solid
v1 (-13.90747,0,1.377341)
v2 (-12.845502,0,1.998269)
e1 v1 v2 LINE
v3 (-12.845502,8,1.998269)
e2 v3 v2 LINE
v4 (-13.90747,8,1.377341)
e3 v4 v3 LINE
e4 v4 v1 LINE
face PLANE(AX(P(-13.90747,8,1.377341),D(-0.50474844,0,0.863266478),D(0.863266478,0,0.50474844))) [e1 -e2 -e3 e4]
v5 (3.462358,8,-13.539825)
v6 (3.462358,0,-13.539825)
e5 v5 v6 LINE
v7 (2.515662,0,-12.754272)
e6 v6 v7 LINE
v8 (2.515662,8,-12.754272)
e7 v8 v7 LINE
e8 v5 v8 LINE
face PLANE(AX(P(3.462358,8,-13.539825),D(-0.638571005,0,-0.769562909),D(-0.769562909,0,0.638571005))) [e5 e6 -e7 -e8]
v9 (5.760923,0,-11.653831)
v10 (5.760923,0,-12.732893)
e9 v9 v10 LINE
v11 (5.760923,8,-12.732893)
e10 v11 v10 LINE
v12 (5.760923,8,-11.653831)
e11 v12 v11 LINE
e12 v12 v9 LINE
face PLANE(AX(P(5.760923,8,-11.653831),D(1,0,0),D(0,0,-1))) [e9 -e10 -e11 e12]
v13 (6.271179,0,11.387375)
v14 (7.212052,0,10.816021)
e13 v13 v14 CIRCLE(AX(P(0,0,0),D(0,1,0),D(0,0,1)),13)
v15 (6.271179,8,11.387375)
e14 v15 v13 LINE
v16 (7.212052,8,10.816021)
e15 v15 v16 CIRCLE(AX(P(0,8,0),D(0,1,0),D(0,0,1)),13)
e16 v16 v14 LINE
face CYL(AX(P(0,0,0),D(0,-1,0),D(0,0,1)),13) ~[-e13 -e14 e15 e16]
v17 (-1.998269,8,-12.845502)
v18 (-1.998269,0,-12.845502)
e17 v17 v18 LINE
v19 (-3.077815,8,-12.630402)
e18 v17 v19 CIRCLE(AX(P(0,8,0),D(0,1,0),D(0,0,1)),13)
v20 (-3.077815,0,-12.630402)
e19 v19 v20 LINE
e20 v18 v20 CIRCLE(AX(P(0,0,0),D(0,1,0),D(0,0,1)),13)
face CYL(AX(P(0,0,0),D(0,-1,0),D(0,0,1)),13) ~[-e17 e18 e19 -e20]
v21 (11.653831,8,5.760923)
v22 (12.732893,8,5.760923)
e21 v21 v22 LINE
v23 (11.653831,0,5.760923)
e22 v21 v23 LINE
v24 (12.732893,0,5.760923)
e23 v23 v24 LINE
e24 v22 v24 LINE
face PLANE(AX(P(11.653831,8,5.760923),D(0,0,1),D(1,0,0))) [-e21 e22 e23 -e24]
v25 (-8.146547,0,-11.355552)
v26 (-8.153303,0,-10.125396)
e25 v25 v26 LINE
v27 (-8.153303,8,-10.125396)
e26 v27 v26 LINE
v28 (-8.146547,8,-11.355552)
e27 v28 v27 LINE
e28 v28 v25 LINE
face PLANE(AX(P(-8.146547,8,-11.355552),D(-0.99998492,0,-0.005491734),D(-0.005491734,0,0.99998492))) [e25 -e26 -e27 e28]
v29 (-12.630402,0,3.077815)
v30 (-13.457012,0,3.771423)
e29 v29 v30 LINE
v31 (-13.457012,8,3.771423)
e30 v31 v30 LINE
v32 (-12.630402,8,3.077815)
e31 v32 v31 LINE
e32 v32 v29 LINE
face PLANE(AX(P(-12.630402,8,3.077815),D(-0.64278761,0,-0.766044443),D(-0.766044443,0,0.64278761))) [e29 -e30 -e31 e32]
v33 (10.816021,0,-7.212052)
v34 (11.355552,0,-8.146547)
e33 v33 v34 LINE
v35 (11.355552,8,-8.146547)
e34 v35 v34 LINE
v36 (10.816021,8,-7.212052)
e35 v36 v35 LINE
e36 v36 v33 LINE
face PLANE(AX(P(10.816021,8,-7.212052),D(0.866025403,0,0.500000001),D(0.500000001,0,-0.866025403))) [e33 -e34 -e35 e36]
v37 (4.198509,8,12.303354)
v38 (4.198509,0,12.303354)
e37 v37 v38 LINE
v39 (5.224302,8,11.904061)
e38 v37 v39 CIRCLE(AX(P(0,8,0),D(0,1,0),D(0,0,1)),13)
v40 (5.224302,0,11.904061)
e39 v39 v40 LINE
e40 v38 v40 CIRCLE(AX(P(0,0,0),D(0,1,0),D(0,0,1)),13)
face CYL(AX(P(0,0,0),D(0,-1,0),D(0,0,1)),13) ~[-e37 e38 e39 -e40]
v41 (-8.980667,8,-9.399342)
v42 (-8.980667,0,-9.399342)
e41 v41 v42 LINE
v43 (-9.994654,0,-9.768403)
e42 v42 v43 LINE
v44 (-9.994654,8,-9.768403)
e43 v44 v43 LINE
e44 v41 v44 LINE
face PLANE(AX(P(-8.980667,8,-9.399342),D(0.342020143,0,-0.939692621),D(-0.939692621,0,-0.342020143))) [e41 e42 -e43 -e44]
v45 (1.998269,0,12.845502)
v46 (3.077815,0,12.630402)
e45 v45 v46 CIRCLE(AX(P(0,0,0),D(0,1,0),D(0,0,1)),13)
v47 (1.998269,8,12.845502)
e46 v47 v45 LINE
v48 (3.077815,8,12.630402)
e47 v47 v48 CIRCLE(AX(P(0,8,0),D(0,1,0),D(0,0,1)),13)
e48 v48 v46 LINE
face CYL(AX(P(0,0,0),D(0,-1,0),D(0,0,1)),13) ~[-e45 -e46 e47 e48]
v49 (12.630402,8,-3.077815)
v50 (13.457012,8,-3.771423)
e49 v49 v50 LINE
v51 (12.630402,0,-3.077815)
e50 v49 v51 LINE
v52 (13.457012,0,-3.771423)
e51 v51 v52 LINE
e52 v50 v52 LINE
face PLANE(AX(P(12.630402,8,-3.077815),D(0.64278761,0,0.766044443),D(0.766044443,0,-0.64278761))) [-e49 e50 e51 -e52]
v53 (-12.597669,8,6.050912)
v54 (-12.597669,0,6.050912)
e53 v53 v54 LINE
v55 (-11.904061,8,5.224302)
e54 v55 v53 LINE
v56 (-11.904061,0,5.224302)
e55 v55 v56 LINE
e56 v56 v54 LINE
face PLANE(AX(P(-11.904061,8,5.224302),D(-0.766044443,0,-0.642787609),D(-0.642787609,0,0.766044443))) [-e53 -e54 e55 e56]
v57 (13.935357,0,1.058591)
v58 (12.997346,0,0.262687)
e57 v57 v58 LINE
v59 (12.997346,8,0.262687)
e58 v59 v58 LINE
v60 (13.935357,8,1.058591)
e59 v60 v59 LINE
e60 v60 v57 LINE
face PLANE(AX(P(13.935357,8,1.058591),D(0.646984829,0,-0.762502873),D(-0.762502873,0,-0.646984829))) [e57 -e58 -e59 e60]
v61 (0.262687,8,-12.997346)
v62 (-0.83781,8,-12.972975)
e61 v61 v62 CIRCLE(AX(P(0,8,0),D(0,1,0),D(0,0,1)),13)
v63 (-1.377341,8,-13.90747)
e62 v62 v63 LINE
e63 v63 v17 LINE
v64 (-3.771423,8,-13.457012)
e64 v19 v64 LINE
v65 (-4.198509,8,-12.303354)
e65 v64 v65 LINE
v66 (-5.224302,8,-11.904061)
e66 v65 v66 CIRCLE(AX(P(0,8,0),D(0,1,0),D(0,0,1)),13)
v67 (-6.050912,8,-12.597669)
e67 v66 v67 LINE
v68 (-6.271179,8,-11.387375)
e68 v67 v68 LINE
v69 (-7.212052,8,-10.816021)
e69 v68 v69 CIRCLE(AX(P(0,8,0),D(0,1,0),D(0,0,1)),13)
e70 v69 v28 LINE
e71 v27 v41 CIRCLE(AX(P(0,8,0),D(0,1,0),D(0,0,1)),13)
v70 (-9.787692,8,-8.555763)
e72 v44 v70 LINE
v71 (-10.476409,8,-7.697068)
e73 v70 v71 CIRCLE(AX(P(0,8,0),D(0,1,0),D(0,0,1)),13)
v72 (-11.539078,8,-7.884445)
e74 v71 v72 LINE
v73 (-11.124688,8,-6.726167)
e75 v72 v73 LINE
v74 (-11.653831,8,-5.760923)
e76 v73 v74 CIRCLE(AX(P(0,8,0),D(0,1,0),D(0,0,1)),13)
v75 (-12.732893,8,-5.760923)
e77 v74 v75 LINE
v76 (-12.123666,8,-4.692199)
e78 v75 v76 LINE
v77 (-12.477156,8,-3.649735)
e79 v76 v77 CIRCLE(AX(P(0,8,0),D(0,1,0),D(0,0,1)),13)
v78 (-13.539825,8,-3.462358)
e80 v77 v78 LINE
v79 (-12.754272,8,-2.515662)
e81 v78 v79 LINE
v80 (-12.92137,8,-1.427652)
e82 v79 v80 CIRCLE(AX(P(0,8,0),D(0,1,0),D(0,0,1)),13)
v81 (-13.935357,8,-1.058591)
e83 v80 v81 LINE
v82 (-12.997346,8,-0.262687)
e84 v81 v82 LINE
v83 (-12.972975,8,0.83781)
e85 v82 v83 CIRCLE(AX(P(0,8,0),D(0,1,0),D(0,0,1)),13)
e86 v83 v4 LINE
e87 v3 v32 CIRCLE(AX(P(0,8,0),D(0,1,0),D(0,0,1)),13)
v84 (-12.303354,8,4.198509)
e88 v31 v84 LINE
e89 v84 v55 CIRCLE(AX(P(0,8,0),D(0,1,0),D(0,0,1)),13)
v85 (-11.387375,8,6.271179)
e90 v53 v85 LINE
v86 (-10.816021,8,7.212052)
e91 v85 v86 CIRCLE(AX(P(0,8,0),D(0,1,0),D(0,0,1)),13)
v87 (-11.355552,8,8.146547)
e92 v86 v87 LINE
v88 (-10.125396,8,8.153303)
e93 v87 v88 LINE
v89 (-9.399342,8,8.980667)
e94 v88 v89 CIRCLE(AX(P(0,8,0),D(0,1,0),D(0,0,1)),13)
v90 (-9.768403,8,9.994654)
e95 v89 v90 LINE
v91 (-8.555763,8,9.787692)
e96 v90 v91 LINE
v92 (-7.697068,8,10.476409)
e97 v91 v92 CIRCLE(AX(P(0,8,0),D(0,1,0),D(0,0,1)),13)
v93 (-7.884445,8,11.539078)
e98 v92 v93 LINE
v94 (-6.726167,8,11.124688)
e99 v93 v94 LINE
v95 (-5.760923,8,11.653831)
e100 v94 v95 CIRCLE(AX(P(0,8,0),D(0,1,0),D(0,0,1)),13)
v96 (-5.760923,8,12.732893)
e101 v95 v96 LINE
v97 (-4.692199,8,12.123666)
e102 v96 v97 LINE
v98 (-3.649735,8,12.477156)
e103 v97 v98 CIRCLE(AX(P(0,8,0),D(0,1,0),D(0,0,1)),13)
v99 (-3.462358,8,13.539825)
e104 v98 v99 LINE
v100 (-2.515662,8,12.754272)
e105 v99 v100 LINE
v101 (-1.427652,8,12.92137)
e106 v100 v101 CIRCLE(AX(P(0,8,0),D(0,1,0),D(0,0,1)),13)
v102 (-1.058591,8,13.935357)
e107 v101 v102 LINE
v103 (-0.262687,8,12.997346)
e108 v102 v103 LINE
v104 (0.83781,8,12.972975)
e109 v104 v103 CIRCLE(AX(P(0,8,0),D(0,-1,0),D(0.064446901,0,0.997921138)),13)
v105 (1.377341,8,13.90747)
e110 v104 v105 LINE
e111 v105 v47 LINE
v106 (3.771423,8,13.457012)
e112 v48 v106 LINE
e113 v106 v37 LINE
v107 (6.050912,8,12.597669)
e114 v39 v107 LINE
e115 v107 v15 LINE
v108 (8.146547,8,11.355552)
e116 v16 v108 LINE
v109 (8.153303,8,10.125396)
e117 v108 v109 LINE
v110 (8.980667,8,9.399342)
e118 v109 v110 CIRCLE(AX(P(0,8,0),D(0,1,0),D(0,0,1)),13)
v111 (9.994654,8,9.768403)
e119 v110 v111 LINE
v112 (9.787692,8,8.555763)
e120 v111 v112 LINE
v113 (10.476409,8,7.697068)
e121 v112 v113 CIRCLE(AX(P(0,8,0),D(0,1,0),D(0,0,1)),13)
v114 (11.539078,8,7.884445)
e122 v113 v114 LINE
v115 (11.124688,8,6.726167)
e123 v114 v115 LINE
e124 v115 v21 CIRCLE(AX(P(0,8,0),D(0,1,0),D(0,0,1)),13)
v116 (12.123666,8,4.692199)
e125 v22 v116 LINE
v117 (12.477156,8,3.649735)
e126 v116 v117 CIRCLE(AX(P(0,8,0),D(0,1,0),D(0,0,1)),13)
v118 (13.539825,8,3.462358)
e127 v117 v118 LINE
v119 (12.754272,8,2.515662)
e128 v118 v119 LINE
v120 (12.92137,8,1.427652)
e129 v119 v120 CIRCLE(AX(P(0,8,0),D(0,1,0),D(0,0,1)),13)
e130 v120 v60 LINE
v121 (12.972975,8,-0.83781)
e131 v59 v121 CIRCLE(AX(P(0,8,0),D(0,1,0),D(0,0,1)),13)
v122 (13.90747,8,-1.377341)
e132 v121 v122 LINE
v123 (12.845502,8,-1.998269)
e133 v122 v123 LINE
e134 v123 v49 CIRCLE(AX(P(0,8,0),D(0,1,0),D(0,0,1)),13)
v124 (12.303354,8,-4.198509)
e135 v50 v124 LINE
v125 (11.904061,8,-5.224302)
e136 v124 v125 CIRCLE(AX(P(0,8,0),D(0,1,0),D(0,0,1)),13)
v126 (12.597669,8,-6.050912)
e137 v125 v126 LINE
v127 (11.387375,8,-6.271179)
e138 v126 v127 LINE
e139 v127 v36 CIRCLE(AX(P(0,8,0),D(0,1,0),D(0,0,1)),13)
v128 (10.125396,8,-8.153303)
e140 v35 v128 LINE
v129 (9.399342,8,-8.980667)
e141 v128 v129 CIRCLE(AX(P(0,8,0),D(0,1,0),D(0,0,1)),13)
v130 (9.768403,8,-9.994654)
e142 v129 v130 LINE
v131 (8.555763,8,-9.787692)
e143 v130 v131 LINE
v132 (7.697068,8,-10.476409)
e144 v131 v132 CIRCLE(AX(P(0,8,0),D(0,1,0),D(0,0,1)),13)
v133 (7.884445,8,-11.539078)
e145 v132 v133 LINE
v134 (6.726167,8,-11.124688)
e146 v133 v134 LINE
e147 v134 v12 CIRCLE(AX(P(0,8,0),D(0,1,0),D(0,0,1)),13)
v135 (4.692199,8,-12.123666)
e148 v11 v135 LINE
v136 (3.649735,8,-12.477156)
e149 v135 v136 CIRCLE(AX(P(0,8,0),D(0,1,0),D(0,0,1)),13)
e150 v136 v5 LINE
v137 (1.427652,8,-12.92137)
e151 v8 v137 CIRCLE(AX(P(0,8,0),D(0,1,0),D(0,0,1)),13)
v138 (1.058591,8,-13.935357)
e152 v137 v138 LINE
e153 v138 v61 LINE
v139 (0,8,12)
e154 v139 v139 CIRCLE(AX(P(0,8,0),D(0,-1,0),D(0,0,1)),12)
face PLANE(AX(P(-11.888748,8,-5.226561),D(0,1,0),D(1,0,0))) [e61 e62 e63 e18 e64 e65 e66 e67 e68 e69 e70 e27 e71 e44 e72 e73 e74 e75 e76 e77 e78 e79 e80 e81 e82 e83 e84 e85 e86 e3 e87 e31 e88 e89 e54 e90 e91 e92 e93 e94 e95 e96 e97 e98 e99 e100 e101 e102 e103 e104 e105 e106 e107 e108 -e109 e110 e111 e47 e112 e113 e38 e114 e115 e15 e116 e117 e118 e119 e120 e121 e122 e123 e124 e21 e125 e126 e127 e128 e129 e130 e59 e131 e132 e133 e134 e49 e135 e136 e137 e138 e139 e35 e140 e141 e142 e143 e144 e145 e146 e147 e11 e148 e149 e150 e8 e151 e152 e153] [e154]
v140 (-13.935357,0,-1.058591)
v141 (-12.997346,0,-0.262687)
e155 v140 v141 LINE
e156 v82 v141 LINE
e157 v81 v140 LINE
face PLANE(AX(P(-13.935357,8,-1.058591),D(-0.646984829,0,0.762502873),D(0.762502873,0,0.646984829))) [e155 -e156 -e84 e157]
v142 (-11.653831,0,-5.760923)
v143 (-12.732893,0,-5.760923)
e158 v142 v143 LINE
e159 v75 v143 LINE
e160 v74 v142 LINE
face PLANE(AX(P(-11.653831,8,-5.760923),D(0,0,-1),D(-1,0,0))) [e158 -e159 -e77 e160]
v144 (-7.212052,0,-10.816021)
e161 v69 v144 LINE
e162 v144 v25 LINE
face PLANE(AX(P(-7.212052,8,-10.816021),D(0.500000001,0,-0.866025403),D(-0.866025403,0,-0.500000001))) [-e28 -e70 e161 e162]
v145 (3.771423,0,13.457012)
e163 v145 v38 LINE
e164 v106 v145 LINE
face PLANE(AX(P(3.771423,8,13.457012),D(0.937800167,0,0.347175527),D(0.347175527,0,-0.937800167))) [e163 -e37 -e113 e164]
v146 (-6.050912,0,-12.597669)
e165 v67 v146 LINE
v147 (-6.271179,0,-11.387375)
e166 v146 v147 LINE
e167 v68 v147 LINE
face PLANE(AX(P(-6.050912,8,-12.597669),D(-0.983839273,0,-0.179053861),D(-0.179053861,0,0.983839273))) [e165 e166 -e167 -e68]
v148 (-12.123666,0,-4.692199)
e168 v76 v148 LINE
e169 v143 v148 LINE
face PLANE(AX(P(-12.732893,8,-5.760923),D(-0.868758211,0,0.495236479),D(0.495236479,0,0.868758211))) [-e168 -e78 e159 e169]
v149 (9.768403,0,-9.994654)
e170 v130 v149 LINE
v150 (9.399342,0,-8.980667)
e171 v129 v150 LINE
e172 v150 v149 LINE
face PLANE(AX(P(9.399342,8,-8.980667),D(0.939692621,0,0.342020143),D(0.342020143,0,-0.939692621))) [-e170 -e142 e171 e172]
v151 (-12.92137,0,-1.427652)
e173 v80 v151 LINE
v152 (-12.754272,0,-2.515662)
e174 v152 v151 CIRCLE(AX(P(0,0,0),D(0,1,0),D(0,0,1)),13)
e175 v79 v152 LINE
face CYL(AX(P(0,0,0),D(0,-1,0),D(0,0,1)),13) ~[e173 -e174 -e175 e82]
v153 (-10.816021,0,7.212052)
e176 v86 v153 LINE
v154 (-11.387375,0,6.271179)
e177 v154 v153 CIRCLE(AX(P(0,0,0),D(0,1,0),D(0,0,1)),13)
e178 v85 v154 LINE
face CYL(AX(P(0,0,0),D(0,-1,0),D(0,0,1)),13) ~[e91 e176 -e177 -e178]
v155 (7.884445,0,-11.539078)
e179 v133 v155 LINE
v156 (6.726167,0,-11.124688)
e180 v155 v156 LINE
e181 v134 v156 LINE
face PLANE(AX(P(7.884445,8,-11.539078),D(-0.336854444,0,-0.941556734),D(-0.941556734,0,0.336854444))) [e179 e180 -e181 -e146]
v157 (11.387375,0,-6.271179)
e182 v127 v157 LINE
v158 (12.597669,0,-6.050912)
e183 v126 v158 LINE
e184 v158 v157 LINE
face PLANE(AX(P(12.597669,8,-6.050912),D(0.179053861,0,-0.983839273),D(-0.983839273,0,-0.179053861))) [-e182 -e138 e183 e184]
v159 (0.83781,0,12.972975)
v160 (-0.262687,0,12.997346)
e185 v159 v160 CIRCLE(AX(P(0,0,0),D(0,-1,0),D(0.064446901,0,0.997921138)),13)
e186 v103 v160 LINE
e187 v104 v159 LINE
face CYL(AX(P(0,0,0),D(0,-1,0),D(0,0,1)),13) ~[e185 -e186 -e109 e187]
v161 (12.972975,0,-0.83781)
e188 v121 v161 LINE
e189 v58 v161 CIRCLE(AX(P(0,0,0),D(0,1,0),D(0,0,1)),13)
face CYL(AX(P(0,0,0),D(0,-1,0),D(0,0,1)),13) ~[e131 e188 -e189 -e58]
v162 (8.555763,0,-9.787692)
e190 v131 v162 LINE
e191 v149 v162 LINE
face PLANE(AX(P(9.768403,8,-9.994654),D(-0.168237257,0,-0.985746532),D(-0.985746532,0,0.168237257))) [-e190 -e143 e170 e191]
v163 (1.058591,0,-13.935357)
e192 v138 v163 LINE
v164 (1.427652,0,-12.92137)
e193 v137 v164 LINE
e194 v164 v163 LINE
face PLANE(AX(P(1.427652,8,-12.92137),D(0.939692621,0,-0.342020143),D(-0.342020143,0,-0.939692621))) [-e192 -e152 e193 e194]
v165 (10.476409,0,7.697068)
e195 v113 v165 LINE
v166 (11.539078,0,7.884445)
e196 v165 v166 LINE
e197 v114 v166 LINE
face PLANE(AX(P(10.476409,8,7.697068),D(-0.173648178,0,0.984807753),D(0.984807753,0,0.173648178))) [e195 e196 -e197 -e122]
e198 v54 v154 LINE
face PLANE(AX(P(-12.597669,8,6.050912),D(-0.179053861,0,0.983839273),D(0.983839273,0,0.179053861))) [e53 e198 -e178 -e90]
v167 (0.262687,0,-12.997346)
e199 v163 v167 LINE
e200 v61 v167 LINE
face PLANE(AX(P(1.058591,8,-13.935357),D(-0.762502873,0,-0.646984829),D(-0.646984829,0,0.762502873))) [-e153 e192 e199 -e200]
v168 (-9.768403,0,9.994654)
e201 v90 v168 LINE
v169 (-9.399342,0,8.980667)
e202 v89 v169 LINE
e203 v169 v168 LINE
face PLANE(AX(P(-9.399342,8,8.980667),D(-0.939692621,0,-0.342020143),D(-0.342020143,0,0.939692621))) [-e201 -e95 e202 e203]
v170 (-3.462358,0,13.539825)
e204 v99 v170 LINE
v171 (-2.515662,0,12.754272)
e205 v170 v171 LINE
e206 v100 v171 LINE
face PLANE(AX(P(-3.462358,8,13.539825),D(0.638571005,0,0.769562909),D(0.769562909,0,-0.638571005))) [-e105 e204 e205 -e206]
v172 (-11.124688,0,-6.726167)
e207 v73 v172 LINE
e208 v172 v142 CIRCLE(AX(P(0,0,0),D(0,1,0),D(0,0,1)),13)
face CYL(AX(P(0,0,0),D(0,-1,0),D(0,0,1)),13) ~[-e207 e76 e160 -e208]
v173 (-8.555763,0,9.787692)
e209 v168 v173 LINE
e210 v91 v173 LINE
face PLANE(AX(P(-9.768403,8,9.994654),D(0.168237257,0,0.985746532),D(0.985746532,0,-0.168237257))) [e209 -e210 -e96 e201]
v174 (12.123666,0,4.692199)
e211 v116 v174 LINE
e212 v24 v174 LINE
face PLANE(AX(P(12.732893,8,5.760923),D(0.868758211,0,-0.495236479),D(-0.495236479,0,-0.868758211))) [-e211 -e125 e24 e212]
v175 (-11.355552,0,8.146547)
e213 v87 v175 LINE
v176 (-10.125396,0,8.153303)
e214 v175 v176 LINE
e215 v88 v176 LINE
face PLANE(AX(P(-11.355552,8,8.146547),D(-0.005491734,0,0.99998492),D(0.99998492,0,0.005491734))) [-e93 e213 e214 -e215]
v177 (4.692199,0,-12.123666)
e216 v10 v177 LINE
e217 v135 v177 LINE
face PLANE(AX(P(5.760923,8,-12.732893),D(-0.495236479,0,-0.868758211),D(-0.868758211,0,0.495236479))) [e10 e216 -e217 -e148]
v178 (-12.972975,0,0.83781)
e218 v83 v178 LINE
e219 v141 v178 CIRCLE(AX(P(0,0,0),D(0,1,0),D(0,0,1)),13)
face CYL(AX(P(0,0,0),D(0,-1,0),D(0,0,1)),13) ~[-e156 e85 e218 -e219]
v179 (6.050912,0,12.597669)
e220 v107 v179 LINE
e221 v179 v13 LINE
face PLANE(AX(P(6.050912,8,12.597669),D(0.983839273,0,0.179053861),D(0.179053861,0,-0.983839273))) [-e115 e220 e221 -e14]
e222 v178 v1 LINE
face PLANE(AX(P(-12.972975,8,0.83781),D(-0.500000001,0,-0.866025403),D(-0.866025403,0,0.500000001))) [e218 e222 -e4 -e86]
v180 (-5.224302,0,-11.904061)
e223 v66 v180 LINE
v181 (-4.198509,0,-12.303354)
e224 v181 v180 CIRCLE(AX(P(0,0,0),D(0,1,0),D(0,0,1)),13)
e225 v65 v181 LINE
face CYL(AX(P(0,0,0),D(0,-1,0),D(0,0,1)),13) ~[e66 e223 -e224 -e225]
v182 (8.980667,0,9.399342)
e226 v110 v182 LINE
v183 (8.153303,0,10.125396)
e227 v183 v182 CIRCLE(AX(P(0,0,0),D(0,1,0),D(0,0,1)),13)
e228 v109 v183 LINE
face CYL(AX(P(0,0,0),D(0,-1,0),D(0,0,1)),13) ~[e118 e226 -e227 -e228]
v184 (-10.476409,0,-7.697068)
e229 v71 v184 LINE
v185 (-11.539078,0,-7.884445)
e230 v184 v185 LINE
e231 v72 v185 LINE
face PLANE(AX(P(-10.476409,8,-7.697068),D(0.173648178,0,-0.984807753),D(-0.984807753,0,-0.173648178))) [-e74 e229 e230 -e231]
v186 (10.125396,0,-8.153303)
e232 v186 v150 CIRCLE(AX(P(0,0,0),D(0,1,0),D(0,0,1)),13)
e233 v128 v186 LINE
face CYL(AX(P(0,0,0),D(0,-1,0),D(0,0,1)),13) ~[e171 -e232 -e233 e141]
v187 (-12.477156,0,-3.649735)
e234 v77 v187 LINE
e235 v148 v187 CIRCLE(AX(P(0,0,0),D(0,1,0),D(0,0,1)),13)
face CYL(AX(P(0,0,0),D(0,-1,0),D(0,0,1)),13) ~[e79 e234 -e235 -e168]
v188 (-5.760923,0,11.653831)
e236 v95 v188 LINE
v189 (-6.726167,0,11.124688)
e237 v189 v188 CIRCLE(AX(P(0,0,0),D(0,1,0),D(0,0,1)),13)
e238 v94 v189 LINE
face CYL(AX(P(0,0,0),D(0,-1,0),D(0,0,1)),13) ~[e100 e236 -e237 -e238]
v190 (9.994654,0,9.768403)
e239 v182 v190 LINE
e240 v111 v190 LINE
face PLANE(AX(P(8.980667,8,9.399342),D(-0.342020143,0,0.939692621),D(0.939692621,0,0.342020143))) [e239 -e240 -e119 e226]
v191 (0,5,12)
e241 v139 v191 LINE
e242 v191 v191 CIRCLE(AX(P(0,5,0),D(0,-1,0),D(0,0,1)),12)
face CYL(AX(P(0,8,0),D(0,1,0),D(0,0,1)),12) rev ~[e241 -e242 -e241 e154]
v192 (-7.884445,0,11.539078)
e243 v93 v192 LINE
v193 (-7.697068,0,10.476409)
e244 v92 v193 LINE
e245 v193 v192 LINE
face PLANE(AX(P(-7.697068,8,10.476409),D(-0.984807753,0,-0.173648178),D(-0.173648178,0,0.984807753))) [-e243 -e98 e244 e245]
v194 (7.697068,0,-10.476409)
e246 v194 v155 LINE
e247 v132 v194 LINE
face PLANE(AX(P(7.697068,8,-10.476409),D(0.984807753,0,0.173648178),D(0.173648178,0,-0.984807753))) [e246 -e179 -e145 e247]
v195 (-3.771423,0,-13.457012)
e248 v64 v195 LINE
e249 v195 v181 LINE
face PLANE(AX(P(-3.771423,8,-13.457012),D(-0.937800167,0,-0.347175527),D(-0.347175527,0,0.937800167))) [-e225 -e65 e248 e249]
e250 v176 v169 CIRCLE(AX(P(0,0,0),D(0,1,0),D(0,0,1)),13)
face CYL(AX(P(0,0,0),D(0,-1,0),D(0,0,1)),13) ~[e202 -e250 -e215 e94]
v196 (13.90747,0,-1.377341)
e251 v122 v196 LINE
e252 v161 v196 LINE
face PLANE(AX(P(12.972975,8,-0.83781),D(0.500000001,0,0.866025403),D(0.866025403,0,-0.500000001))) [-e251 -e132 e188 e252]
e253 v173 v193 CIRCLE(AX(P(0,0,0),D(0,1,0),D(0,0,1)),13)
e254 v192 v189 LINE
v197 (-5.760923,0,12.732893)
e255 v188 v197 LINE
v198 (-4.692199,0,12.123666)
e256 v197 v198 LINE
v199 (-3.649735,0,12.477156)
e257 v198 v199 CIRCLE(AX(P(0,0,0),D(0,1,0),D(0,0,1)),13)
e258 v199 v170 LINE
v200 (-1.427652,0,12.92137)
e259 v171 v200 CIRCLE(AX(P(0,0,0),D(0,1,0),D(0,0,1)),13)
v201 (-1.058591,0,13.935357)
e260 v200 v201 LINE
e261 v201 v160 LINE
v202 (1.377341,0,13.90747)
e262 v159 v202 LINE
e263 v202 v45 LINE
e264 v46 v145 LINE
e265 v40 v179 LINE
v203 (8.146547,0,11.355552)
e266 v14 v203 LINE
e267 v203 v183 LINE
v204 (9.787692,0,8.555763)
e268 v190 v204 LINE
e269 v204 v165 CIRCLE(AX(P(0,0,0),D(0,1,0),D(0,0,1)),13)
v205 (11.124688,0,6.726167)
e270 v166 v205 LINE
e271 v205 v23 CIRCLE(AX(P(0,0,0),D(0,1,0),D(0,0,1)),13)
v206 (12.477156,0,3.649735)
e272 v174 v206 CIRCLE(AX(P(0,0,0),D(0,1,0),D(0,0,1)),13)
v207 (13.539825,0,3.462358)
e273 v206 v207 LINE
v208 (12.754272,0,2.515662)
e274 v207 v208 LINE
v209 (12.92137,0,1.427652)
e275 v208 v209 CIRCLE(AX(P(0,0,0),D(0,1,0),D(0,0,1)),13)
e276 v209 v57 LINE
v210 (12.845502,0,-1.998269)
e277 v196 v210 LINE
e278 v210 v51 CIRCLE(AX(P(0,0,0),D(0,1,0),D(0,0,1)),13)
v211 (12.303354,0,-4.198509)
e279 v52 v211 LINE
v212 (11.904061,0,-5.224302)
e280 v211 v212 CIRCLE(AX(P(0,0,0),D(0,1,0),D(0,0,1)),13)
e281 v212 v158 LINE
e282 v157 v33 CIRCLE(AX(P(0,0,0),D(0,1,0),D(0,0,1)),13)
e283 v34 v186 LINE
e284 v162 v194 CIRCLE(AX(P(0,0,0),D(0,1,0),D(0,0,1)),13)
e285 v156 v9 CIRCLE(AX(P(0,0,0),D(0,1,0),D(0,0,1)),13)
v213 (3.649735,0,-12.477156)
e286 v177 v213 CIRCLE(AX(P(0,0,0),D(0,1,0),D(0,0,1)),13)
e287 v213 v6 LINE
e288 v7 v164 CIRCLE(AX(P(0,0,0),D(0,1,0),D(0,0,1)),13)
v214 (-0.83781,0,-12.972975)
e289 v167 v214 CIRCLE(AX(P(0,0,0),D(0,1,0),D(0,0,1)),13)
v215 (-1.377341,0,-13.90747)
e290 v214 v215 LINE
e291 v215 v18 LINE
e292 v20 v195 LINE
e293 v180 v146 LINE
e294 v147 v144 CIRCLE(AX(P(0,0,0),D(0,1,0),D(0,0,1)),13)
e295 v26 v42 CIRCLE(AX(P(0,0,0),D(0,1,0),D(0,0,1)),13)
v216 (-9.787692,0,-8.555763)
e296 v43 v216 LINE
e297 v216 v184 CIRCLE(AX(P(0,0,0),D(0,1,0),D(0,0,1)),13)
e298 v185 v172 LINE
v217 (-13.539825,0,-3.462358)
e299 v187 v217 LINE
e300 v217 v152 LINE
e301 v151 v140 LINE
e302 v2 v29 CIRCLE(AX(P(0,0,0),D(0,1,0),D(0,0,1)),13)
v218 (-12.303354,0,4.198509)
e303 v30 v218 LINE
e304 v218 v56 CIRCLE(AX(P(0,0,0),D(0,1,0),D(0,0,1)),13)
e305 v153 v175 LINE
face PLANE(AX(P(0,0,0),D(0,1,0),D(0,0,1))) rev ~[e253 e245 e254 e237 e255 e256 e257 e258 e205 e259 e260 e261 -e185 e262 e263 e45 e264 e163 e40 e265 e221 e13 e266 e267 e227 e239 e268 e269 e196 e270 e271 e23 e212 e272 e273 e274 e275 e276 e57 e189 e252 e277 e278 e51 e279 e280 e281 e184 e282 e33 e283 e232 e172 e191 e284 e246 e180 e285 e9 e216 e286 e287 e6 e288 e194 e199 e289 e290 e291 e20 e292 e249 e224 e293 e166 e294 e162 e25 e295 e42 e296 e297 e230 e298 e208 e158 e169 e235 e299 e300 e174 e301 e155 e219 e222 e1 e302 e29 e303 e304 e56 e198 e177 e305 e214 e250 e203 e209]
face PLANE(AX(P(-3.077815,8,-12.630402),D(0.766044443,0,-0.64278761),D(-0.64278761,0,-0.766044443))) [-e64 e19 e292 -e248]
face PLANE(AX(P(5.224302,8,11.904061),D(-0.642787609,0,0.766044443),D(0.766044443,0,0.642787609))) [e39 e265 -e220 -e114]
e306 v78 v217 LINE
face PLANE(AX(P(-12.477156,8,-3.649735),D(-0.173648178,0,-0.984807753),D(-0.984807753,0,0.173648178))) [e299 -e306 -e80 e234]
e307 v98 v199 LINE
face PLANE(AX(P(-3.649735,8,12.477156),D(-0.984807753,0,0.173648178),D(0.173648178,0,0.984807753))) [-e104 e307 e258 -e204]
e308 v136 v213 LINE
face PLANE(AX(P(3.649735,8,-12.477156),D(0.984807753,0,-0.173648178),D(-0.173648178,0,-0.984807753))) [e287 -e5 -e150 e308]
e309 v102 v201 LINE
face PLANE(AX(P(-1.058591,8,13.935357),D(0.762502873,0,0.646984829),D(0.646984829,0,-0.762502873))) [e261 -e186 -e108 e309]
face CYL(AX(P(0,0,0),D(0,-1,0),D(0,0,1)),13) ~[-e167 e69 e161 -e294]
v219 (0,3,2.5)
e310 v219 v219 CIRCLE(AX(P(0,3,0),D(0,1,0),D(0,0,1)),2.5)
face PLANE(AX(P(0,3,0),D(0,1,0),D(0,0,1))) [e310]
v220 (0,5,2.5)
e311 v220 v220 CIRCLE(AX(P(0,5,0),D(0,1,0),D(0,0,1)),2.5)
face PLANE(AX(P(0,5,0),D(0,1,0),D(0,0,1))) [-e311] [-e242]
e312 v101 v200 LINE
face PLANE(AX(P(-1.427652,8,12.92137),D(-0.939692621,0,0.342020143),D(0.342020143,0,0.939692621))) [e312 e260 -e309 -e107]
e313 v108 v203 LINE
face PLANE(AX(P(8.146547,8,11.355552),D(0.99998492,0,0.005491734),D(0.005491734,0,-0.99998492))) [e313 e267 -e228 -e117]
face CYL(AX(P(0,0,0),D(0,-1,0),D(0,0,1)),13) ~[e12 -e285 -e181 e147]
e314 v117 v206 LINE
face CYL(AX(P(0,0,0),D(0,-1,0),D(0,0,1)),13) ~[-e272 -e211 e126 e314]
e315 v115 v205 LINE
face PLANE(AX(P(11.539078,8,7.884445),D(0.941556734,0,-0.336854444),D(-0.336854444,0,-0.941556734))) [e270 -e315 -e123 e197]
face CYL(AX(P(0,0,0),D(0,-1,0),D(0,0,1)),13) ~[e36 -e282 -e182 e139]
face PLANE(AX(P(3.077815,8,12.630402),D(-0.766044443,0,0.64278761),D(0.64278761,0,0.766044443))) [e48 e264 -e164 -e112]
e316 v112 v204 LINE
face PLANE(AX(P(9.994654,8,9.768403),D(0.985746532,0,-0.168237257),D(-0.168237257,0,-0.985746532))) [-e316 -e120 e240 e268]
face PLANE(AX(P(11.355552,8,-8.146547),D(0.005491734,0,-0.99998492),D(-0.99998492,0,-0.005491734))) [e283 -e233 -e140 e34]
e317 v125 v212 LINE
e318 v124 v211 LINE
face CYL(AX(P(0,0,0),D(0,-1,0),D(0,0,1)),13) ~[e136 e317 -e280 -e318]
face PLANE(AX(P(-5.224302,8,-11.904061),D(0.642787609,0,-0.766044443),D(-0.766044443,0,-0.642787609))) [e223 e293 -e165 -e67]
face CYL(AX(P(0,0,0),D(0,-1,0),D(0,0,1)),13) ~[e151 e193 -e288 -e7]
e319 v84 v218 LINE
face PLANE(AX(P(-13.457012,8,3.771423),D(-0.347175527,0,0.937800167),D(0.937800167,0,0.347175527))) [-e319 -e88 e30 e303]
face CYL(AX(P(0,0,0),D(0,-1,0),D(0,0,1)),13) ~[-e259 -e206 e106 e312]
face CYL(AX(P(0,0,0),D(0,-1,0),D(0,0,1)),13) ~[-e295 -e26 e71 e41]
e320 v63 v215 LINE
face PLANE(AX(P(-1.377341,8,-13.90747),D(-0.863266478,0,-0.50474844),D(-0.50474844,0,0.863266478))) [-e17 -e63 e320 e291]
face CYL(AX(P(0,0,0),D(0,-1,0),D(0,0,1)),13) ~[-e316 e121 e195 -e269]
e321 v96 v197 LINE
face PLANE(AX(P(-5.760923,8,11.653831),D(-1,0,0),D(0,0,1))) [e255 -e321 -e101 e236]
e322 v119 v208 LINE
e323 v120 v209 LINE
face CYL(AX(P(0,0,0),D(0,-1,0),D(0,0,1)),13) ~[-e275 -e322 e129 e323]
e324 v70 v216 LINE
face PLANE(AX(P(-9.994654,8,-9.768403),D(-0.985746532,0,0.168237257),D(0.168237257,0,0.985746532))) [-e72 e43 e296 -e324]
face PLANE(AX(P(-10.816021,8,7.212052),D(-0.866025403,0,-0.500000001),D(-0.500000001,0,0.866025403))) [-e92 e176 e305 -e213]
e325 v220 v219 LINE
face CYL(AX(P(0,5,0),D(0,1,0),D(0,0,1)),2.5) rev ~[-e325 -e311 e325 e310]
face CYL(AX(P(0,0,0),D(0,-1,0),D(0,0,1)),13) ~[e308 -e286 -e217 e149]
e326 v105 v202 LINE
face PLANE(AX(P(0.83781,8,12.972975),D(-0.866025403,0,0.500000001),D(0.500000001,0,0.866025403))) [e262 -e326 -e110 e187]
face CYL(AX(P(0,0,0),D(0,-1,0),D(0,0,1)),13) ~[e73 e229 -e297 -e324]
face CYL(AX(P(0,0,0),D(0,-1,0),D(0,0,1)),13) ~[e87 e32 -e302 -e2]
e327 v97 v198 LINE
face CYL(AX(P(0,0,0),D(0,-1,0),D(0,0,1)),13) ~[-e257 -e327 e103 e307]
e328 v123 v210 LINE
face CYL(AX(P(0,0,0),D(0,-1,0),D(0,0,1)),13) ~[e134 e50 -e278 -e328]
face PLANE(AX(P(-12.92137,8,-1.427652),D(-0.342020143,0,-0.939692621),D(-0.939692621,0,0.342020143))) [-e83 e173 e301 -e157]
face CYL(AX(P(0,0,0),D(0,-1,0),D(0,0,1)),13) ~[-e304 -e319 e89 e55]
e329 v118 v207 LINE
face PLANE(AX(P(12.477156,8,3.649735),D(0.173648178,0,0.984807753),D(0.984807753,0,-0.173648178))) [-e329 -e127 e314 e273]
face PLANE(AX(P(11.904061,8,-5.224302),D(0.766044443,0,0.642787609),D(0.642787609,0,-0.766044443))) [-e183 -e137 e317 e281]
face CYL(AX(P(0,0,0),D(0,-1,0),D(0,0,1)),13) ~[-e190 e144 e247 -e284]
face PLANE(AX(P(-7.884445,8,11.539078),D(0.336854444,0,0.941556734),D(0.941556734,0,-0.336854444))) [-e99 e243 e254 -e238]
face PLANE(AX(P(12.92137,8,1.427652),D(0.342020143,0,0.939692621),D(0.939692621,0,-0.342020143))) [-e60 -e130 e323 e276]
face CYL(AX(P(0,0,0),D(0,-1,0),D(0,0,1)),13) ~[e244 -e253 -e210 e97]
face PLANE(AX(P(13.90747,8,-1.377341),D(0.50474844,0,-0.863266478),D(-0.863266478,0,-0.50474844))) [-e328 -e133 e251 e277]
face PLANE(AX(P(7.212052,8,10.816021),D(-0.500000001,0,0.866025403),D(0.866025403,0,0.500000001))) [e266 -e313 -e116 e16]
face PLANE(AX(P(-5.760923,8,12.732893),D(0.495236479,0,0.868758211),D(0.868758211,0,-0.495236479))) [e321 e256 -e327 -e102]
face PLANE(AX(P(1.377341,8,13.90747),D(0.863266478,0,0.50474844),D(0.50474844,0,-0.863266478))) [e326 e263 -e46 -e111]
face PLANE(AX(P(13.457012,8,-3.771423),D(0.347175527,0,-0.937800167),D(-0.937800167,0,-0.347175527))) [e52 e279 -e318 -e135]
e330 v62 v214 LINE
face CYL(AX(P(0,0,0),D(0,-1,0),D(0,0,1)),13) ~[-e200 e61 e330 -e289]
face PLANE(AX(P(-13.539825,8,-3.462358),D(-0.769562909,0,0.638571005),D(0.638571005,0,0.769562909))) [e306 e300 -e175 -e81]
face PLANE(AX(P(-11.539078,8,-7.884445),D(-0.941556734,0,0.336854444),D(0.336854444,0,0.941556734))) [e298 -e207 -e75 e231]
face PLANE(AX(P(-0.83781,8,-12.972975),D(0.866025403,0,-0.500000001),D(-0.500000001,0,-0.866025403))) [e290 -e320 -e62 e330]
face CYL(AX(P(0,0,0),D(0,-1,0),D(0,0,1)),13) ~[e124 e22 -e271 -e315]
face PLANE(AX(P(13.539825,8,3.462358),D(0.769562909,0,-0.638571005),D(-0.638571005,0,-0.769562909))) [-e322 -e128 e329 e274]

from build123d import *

# Parameters (mm, degrees)
SKETCH_1_R          = 13
EXTRUDE_1_DEPTH     = 8
SKETCH_2_R          = 12
CUT_EXTRUDE_1_DEPTH = 3
EXTRUDE_2_DEPTH     = 8
SKETCH_4_R          = 2.5
CUT_EXTRUDE_2_DEPTH = 2


with BuildPart() as part:
    # 草图1 → 凸台-拉伸1 (new body)
    with BuildSketch(Plane(origin=(0, 0, 0), x_dir=(1, 0, 0), z_dir=(0, 1, 0))):
        with Locations(Location((0, 0, 0), (0, 0, 270))):
            Circle(SKETCH_1_R)
    extrude(amount=EXTRUDE_1_DEPTH)

    # 草图2 → 切除-拉伸1 (cut)
    with BuildSketch(Plane(origin=(0, 8, 0), x_dir=(1, 0, 0), z_dir=(0, 1, 0))):
        with Locations(Location((0, 0, 0), (0, 0, 270))):
            Circle(SKETCH_2_R)
    extrude(amount=-CUT_EXTRUDE_1_DEPTH, mode=Mode.SUBTRACT)

    # 草图3 → 凸台-拉伸2 (add, through all)
    with BuildSketch(Plane(origin=(0, 8, 0), x_dir=(1, 0, 0), z_dir=(0, 1, 0))):
        Polygon((-12.123665589, 4.692199131), (-11.044603538, 4.692199131), (-11.653830585, 5.760922904), (-12.732892635, 5.760922904), align=None)
        Polygon((-11.124688039, 6.726166519), (-10.062019365, 6.53878936), (-10.476408948, 7.697067984), (-11.539077622, 7.884445143), align=None)
        Polygon((-9.787692472, 8.555762741), (-8.773705825, 8.186701784), (-8.980666927, 9.399341549), (-9.994653573, 9.768402506), align=None)
        Polygon((-8.153302822, 10.125396442), (-7.218807673, 9.585865416), (-7.212051886, 10.816020876), (-8.146547034, 11.355551902), align=None)
        Polygon((-6.271179191, 11.387375095), (-5.444569703, 10.693767379), (-5.224302297, 11.904060883), (-6.050911785, 12.597668599), align=None)
        Polygon((-4.198508954, 12.303354118), (-3.504901238, 11.47674463), (-3.077814927, 12.630402023), (-3.771422644, 13.457011511), align=None)
        Polygon((-1.998269147, 12.845501953), (-1.458738122, 11.911006804), (-0.837809708, 12.97297479), (-1.377340734, 13.907469938), align=None)
        Polygon((0.262687056, 12.99734571), (0.631748014, 11.983359064), (1.427651935, 12.921370282), (1.058590978, 13.935356928), align=None)
        Polygon((2.515661647, 12.754271695), (2.703038805, 11.691603022), (3.649735097, 12.477156476), (3.462357938, 13.53982515), align=None)
        Polygon((4.692199131, 12.123665589), (4.692199131, 11.044603538), (5.760922904, 11.653830585), (5.760922904, 12.732892635), align=None)
        Polygon((6.726166519, 11.124688039), (6.53878936, 10.062019365), (7.697067984, 10.476408948), (7.884445143, 11.539077622), align=None)
        Polygon((8.555762741, 9.787692472), (8.186701784, 8.773705825), (9.399341549, 8.980666927), (9.768402506, 9.994653573), align=None)
        Polygon((10.125396442, 8.153302822), (9.585865416, 7.218807673), (10.816020876, 7.212051886), (11.355551902, 8.146547034), align=None)
        Polygon((11.387375095, 6.271179191), (10.693767379, 5.444569703), (11.904060883, 5.224302297), (12.597668599, 6.050911785), align=None)
        Polygon((12.303354118, 4.198508954), (11.47674463, 3.504901238), (12.630402023, 3.077814927), (13.457011511, 3.771422644), align=None)
        Polygon((12.845501953, 1.998269147), (11.911006804, 1.458738122), (12.97297479, 0.837809708), (13.907469938, 1.377340734), align=None)
        Polygon((12.99734571, -0.262687056), (11.983359064, -0.631748014), (12.921370282, -1.427651935), (13.935356928, -1.058590978), align=None)
        Polygon((12.754271695, -2.515661647), (11.691603022, -2.703038805), (12.477156476, -3.649735097), (13.53982515, -3.462357938), align=None)
        Polygon((12.123665589, -4.692199131), (11.044603538, -4.692199131), (11.653830585, -5.760922904), (12.732892635, -5.760922904), align=None)
        Polygon((11.124688039, -6.726166519), (10.062019365, -6.53878936), (10.476408948, -7.697067984), (11.539077622, -7.884445143), align=None)
        Polygon((9.787692472, -8.555762741), (8.773705825, -8.186701784), (8.980666927, -9.399341549), (9.994653573, -9.768402506), align=None)
        Polygon((8.153302822, -10.125396442), (7.218807673, -9.585865416), (7.212051886, -10.816020876), (8.146547034, -11.355551902), align=None)
        Polygon((6.271179191, -11.387375095), (5.444569703, -10.693767379), (5.224302297, -11.904060883), (6.050911785, -12.597668599), align=None)
        Polygon((4.198508954, -12.303354118), (3.504901238, -11.47674463), (3.077814927, -12.630402023), (3.771422644, -13.457011511), align=None)
        Polygon((1.998269147, -12.845501953), (1.458738122, -11.911006804), (0.837809708, -12.97297479), (1.377340734, -13.907469938), align=None)
        Polygon((-0.262687056, -12.99734571), (-0.631748014, -11.983359064), (-1.427651935, -12.921370282), (-1.058590978, -13.935356928), align=None)
        Polygon((-2.515661647, -12.754271695), (-2.703038805, -11.691603022), (-3.649735097, -12.477156476), (-3.462357938, -13.53982515), align=None)
        Polygon((-4.692199131, -12.123665589), (-4.692199131, -11.044603538), (-5.760922904, -11.653830585), (-5.760922904, -12.732892635), align=None)
        Polygon((-6.726166519, -11.124688039), (-6.53878936, -10.062019365), (-7.697067984, -10.476408948), (-7.884445143, -11.539077622), align=None)
        Polygon((-8.555762741, -9.787692472), (-8.186701784, -8.773705825), (-9.399341549, -8.980666927), (-9.768402506, -9.994653573), align=None)
        Polygon((-10.125396442, -8.153302822), (-9.585865416, -7.218807673), (-10.816020876, -7.212051886), (-11.355551902, -8.146547034), align=None)
        Polygon((-11.387375095, -6.271179191), (-10.693767379, -5.444569703), (-11.904060883, -5.224302297), (-12.597668599, -6.050911785), align=None)
        Polygon((-12.303354118, -4.198508954), (-11.47674463, -3.504901238), (-12.630402023, -3.077814927), (-13.457011511, -3.771422644), align=None)
        Polygon((-12.845501953, -1.998269147), (-11.911006804, -1.458738122), (-12.97297479, -0.837809708), (-13.907469938, -1.377340734), align=None)
        Polygon((-12.99734571, 0.262687056), (-11.983359064, 0.631748014), (-12.921370282, 1.427651935), (-13.935356928, 1.058590978), align=None)
        Polygon((-12.754271695, 2.515661647), (-11.691603022, 2.703038805), (-12.477156476, 3.649735097), (-13.53982515, 3.462357938), align=None)
    extrude(amount=-EXTRUDE_2_DEPTH)

    # 草图4 → 切除-拉伸2 (cut)
    with BuildSketch(Plane(origin=(0, 5, 0), x_dir=(1, 0, 0), z_dir=(0, 1, 0))):
        with Locations(Location((0, 0, 0), (0, 0, 270))):
            Circle(SKETCH_4_R)
    extrude(amount=-CUT_EXTRUDE_2_DEPTH, mode=Mode.SUBTRACT)


solid = part.part
